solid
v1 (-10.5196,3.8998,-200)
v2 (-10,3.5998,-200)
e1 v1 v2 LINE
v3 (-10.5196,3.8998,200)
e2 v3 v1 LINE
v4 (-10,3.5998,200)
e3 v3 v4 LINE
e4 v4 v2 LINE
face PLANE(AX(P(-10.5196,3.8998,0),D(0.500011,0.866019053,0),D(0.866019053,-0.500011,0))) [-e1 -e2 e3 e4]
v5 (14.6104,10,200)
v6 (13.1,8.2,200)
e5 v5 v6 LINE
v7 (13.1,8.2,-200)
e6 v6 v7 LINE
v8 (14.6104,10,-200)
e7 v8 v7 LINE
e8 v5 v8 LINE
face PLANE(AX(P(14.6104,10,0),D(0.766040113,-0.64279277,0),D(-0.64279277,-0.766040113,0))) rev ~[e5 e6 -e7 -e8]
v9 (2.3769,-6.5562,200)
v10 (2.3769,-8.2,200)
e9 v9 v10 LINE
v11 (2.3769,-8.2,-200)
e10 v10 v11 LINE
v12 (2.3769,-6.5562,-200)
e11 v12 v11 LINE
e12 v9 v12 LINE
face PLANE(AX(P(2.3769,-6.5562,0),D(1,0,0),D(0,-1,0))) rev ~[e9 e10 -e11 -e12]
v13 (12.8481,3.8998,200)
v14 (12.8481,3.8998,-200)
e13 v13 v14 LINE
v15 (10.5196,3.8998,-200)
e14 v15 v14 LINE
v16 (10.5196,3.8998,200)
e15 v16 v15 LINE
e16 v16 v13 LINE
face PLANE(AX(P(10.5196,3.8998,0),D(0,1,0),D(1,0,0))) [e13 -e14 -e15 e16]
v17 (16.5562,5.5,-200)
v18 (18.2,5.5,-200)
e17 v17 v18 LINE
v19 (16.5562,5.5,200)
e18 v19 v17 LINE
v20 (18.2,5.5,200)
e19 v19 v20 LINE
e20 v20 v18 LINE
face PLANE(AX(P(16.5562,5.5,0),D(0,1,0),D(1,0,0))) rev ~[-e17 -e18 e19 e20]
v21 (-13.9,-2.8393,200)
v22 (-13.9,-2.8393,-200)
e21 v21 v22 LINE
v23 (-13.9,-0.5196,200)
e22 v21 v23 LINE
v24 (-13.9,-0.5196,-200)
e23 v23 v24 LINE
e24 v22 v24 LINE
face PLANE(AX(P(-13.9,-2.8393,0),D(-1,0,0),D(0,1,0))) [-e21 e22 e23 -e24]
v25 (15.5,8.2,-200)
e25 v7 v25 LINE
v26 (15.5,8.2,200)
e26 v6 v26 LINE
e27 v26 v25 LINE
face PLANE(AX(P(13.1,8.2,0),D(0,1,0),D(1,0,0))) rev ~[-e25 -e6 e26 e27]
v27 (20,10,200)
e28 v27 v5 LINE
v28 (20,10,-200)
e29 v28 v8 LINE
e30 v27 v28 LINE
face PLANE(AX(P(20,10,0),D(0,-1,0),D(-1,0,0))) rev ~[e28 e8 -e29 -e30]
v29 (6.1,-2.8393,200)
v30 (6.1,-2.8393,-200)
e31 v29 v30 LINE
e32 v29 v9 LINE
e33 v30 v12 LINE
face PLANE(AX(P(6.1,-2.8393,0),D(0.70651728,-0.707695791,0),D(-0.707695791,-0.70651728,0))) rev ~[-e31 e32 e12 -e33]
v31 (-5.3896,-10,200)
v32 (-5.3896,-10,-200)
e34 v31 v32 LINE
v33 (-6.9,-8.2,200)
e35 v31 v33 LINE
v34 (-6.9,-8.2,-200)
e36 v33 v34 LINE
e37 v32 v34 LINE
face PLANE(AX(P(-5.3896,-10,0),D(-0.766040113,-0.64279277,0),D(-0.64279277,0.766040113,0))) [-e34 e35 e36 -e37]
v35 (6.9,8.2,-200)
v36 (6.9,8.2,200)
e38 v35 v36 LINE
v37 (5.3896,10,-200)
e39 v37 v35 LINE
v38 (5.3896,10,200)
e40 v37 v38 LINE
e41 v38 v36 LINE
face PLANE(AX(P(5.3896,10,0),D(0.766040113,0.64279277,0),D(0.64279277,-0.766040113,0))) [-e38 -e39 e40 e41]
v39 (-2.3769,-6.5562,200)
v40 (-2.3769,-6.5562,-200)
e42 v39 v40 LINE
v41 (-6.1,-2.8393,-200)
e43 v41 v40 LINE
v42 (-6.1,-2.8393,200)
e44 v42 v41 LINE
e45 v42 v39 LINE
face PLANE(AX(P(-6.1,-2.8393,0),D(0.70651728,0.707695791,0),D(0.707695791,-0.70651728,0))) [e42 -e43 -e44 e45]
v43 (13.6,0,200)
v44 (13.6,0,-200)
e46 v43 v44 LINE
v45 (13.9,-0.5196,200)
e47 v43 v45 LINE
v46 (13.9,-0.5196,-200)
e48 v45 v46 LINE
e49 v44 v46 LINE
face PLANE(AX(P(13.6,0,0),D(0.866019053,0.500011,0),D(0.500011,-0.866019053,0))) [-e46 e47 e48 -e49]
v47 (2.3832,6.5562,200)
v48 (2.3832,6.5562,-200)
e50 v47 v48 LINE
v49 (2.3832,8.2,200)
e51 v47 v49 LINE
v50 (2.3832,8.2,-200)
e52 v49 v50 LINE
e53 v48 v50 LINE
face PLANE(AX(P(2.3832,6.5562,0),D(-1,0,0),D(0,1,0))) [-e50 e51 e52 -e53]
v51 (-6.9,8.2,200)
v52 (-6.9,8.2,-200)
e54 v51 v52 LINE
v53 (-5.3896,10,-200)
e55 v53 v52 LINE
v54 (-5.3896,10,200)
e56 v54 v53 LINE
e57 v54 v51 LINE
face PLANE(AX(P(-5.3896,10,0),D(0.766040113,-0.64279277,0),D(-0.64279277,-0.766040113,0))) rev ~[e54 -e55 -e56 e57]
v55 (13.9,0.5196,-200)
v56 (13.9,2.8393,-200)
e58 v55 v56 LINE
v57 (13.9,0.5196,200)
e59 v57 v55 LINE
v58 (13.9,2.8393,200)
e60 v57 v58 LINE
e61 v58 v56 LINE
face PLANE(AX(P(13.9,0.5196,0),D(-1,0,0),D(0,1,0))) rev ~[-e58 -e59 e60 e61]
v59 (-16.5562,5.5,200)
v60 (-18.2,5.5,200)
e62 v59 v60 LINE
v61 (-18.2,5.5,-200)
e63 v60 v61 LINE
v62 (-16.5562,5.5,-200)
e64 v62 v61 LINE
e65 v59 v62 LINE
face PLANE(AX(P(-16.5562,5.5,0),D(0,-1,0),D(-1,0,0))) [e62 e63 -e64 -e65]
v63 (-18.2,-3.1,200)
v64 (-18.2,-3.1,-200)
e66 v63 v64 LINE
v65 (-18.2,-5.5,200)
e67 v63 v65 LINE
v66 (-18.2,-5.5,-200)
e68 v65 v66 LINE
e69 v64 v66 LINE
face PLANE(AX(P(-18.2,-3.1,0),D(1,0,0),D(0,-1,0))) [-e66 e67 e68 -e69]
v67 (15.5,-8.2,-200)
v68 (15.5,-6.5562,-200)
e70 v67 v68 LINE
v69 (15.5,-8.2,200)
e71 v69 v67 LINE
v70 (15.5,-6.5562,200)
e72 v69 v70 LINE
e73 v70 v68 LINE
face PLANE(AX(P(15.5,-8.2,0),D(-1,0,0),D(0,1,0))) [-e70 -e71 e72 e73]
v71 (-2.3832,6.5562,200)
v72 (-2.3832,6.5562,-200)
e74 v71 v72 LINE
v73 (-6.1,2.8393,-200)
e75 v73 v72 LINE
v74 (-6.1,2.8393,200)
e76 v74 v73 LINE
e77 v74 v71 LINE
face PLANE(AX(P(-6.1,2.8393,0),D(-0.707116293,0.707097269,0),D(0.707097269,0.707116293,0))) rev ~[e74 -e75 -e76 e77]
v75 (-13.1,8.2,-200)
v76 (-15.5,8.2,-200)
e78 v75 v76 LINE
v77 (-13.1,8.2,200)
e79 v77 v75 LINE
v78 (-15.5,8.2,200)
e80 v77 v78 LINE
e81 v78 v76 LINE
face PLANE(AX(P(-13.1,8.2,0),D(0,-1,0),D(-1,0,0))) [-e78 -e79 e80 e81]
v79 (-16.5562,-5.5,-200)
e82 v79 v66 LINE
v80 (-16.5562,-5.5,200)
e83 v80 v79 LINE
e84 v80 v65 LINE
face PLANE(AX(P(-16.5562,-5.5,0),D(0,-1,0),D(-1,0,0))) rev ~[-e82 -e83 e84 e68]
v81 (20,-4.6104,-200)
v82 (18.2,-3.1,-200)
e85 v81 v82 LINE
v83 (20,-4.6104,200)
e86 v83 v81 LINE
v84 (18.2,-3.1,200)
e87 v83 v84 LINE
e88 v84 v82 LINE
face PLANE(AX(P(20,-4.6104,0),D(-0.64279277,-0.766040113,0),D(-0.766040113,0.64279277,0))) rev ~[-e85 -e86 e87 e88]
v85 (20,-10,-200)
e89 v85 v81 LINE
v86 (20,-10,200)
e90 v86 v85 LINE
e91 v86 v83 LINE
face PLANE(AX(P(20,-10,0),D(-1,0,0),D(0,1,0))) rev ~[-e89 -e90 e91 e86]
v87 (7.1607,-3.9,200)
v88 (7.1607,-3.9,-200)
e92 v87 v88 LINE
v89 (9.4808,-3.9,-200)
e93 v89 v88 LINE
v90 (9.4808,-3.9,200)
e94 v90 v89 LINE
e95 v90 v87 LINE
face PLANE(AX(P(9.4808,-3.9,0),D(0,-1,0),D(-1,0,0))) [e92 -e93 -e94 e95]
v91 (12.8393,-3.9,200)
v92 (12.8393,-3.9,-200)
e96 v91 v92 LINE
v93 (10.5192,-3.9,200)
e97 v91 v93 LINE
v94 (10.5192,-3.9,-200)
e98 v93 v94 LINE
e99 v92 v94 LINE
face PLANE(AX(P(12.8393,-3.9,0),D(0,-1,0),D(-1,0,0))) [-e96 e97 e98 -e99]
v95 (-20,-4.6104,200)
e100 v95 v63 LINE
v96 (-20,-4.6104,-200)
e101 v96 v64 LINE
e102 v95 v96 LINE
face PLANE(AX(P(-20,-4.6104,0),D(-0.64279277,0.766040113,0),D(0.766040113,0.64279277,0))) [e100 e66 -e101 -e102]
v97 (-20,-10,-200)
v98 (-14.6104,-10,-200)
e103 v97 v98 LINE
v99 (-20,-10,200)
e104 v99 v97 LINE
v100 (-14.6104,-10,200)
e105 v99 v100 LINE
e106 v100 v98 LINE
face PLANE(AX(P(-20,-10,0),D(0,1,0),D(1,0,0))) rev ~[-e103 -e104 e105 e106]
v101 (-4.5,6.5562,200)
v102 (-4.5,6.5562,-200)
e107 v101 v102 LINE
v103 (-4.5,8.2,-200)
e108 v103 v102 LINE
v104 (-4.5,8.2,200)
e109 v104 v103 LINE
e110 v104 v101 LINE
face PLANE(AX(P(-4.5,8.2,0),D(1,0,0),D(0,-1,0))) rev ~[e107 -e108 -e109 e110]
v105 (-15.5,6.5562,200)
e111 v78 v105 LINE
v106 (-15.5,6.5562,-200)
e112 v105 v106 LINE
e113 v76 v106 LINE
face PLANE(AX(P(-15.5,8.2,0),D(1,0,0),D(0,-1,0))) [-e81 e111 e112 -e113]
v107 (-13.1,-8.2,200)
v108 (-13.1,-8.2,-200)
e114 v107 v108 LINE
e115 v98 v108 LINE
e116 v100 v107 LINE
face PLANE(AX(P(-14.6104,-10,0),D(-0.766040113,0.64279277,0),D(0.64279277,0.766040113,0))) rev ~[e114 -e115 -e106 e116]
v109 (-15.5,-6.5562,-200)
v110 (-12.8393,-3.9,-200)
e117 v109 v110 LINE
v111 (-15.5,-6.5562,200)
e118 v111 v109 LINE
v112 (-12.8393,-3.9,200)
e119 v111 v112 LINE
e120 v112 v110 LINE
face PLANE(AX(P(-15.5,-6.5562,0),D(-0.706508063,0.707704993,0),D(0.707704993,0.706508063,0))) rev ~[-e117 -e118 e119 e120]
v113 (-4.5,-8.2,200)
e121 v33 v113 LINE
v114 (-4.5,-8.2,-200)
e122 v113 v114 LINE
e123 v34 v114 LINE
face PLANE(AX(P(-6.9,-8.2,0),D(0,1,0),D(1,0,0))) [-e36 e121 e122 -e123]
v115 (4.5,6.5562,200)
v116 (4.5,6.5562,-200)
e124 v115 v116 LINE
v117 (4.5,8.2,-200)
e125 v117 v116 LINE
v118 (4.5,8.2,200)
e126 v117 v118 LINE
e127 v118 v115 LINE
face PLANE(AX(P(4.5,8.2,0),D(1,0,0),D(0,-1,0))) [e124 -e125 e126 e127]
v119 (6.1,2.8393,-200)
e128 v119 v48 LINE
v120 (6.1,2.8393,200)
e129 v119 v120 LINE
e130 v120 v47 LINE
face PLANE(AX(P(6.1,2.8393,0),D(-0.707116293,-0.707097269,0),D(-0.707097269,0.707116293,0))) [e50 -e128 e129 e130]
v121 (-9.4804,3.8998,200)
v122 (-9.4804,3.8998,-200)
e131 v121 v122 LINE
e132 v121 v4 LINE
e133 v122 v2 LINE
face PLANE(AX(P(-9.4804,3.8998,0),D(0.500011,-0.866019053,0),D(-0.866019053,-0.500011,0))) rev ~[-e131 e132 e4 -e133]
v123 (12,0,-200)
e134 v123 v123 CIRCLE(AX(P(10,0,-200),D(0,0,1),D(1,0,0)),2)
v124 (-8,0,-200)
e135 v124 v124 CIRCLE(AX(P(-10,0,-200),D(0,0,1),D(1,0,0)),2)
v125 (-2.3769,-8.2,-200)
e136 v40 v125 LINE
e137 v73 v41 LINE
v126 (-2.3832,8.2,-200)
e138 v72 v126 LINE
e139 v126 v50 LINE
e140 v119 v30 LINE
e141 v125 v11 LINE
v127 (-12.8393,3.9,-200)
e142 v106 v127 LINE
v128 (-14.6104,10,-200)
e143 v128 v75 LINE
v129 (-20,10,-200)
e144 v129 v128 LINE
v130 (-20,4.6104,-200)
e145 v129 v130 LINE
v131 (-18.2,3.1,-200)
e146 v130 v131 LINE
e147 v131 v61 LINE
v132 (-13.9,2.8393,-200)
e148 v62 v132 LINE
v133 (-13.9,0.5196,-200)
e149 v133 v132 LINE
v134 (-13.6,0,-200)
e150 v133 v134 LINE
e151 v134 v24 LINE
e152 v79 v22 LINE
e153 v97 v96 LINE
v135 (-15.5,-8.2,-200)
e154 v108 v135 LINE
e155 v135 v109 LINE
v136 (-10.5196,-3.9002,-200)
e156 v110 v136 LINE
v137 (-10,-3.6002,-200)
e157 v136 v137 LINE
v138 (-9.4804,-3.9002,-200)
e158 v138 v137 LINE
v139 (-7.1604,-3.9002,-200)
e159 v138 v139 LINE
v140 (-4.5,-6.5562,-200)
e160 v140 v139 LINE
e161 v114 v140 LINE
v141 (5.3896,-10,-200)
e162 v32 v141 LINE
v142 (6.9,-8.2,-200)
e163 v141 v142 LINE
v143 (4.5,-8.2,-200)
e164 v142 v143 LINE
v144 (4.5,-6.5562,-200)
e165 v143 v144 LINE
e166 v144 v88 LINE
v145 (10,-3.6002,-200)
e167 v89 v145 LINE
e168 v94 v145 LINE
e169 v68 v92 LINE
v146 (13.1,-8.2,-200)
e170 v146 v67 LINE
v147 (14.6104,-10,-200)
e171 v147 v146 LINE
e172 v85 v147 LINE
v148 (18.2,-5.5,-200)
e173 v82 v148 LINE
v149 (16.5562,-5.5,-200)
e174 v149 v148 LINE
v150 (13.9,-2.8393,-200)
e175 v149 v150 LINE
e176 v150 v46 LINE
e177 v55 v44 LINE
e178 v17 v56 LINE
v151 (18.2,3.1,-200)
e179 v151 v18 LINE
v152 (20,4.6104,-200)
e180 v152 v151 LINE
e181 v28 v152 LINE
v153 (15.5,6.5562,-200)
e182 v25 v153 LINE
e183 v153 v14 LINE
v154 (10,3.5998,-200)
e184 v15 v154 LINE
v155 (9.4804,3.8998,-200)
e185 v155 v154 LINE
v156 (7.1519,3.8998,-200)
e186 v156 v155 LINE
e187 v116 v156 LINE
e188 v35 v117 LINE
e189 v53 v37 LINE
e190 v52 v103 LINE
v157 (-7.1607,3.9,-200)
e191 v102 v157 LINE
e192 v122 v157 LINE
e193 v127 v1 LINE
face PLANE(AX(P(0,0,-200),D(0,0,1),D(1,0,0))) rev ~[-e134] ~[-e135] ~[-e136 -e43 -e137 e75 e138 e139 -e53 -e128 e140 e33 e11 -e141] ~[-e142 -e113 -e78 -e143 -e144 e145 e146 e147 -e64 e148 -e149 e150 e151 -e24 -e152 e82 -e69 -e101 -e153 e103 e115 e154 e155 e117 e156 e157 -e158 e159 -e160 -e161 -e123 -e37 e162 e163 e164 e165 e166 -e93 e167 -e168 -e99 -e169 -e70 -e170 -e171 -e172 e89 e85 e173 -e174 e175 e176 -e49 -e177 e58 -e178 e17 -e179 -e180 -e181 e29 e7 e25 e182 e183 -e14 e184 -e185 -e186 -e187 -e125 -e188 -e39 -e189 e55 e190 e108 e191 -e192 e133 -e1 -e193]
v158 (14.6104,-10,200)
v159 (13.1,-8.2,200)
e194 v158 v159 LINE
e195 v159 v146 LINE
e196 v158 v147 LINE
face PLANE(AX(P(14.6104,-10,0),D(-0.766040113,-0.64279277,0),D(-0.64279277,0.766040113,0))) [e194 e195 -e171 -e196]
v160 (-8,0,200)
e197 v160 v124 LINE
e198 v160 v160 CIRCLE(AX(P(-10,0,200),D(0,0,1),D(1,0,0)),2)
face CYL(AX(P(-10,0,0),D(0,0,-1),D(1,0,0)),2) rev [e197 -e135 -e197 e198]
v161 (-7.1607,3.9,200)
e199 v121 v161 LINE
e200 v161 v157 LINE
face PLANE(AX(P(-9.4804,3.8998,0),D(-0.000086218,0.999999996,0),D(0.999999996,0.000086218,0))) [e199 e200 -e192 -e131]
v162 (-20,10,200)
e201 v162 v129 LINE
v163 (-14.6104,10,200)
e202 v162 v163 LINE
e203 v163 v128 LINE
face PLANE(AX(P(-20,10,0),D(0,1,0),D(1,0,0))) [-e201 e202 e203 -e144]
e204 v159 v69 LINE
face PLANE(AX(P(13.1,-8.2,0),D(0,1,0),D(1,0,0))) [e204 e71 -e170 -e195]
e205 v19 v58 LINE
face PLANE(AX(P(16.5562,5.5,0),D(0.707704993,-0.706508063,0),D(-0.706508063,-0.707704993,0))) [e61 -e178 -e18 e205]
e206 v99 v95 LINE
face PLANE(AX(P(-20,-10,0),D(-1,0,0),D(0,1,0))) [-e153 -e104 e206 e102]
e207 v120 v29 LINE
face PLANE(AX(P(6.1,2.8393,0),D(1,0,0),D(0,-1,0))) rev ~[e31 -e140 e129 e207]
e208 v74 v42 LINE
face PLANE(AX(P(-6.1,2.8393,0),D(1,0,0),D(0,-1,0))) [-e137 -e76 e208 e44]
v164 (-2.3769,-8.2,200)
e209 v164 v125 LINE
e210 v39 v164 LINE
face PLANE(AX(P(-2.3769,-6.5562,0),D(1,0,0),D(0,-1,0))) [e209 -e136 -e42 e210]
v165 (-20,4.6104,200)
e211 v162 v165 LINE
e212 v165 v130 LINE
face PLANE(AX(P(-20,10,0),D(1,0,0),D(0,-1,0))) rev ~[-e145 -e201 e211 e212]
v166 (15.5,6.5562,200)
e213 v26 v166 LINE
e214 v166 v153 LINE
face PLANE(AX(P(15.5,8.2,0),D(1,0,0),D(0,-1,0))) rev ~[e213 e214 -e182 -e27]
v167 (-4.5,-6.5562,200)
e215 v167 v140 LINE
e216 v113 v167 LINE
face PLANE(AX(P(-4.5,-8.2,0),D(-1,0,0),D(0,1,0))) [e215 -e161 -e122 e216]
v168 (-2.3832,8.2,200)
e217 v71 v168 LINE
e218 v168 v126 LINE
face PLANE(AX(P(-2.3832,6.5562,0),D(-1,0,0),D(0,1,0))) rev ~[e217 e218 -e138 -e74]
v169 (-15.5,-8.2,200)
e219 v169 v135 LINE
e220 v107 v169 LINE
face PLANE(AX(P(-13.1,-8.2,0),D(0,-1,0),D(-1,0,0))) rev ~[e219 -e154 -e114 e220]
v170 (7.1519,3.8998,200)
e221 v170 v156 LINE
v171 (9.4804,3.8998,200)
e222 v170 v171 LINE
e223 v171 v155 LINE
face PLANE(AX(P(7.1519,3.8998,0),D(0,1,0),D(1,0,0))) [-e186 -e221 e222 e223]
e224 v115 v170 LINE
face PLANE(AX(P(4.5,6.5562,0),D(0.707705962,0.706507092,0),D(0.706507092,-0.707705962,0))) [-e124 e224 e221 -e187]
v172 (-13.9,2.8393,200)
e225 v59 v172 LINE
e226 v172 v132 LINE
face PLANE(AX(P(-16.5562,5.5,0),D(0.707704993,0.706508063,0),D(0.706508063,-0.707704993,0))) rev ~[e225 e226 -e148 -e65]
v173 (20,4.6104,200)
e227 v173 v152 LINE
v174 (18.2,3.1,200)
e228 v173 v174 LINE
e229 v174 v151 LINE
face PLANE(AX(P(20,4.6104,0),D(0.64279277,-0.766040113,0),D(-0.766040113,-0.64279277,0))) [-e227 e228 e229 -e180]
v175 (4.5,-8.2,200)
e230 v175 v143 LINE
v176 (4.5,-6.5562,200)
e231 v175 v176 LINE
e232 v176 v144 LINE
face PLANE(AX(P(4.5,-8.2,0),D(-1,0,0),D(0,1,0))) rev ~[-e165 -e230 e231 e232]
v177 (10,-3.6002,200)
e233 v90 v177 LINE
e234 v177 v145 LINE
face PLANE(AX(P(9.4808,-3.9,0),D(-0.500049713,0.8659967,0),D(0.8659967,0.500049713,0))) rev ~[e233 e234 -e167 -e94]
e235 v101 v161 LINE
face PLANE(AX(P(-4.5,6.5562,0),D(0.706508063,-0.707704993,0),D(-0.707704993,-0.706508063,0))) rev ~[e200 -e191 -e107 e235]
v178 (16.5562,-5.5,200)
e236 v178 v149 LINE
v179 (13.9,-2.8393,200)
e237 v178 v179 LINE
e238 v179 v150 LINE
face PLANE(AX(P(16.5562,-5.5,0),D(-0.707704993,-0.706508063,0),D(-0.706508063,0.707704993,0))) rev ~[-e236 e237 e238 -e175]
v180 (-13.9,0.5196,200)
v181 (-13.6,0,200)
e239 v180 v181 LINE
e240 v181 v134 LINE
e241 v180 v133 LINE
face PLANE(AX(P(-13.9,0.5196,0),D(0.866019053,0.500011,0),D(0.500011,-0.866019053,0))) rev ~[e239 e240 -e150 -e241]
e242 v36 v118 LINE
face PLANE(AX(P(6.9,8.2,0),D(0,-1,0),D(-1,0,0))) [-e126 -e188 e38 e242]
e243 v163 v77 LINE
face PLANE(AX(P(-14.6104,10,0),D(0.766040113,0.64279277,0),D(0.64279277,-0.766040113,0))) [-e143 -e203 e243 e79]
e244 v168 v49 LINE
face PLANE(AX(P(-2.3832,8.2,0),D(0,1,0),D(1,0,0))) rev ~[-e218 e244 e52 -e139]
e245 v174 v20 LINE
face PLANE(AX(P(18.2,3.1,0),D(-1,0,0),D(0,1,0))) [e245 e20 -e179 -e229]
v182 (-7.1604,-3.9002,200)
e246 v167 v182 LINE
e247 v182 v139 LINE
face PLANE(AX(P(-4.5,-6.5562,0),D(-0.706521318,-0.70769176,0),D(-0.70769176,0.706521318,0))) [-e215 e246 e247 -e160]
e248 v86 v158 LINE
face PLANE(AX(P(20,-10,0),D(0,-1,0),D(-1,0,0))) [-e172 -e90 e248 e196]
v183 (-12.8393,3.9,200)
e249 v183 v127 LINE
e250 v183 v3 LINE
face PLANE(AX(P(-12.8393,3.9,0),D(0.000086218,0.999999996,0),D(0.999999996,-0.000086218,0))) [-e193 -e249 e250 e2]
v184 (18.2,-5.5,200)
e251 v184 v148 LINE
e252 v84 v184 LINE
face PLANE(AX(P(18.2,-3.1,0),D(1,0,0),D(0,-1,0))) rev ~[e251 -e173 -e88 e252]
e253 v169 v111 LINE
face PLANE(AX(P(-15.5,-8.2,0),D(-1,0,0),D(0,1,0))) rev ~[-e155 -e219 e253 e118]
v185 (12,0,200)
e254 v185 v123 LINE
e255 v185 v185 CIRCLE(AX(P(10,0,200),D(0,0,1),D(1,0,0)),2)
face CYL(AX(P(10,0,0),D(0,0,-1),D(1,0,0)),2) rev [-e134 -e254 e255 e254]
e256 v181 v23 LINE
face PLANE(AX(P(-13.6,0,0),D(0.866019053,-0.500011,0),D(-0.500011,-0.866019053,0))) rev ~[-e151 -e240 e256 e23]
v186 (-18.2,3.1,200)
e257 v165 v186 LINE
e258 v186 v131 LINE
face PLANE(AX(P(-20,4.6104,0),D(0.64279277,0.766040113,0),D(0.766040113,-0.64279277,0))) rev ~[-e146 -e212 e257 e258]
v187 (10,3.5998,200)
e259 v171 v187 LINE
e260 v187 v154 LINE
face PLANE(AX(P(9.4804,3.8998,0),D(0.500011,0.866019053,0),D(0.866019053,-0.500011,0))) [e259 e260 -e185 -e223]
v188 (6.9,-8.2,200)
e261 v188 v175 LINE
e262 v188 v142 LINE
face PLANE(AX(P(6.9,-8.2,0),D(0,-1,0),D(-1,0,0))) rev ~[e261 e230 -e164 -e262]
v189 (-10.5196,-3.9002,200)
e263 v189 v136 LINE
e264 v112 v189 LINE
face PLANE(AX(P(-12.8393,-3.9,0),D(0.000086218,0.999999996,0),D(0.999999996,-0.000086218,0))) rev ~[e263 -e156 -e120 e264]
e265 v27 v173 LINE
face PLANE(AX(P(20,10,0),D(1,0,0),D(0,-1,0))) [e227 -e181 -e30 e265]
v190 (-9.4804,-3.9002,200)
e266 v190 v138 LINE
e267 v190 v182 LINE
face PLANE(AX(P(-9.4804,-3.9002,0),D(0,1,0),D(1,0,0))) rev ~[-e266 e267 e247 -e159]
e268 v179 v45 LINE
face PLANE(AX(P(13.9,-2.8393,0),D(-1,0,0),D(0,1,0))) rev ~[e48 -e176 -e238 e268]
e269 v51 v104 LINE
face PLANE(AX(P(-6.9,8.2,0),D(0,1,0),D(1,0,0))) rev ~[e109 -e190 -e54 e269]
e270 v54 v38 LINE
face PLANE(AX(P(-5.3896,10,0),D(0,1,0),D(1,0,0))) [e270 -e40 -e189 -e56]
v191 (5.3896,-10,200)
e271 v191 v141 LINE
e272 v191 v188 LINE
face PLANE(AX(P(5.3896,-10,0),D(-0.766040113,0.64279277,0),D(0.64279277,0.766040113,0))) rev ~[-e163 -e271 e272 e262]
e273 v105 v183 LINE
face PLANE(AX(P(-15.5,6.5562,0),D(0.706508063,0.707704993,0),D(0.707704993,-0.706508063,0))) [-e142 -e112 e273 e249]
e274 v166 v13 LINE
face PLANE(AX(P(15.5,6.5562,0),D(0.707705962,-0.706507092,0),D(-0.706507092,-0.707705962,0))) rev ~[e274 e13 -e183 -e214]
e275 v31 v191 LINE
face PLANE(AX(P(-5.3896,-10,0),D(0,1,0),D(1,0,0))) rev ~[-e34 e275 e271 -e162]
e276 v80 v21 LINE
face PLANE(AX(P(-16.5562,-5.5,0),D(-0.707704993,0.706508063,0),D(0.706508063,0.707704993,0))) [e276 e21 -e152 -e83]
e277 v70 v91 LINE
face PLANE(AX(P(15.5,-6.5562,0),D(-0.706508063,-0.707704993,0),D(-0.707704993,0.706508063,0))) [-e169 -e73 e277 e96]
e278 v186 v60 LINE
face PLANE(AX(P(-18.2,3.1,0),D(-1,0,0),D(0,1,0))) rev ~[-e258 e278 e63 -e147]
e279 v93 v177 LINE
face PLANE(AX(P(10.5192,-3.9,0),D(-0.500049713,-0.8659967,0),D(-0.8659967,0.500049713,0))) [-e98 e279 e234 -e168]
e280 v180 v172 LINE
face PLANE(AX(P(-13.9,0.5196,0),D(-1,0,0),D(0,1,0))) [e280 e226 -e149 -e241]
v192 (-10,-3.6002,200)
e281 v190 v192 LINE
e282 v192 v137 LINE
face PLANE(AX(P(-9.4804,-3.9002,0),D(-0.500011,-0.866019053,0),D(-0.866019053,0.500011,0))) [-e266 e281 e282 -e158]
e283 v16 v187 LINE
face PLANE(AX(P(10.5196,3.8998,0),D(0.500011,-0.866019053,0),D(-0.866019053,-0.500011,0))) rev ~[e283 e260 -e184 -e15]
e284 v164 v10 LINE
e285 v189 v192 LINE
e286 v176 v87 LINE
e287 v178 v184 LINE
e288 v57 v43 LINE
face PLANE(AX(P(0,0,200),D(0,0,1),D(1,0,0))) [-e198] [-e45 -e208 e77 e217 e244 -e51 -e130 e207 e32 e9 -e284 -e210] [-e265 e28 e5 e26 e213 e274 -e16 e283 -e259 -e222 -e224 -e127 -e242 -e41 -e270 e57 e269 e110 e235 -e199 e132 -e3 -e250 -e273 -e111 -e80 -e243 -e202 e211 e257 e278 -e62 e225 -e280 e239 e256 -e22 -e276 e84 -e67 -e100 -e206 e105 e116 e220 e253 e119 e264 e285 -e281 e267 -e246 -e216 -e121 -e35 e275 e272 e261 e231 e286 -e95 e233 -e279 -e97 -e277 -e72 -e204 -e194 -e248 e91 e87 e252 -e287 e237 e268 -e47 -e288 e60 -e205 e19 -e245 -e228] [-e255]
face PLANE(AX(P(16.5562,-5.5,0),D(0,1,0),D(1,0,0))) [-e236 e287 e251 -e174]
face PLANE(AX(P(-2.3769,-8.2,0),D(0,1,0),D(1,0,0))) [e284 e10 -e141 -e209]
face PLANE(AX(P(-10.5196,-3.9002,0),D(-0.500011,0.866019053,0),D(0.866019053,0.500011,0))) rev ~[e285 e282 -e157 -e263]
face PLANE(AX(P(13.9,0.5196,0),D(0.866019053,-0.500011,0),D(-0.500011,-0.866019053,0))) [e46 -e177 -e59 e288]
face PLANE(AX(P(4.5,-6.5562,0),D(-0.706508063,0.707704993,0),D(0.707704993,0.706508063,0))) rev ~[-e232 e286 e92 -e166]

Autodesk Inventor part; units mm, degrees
ref_plane "YZ Plane" through (0, 0, 0) normal (1, 0, 0) x (0, 1, 0)
ref_plane "XZ Plane" through (0, 0, 0) normal (0, 1, 0) x (-1, 0, 0)
ref_plane "XY Plane" through (0, 0, 0) normal (0, 0, 1) x (1, 0, 0)
sketch "Sketch1" plane through (0, 0, 0) normal (0, 0, 1) x (1, 0, 0)
  line L0 (4.5, 8.2) -> (4.5, 6.5562)
  line L1 (6.9, 8.2) -> (4.5, 8.2)
  line L2 (5.3896, 10) -> (6.9, 8.2)
  line L3 (-5.3896, 10) -> (5.3896, 10)
  line L4 (-5.3896, 10) -> (-6.9, 8.2)
  line L5 (-6.9, 8.2) -> (-4.5, 8.2)
  line L6 (-4.5, 8.2) -> (-4.5, 6.5562)
  line L7 (-4.5, 6.5562) -> (-7.1607, 3.9)
  line L8 (-9.4804, 3.8998) -> (-7.1607, 3.9)
  line L9 (-9.4804, 3.8998) -> (-10, 3.5998)
  line L10 (-10.5196, 3.8998) -> (-10, 3.5998)
  line L11 (-12.8393, 3.9) -> (-10.5196, 3.8998)
  line L12 (-15.5, 6.5562) -> (-12.8393, 3.9)
  line L13 (-15.5, 8.2) -> (-15.5, 6.5562)
  line L14 (-13.1, 8.2) -> (-15.5, 8.2)
  line L15 (-14.6104, 10) -> (-13.1, 8.2)
  line L16 (-20, 10) -> (-14.6104, 10)
  line L17 (-20, 10) -> (-20, 4.6104)
  line L18 (-20, 4.6104) -> (-18.2, 3.1)
  line L19 (-18.2, 3.1) -> (-18.2, 5.5)
  line L20 (-16.5562, 5.5) -> (-18.2, 5.5)
  line L21 (-16.5562, 5.5) -> (-13.9, 2.8393)
  line L22 (-13.9, 0.5196) -> (-13.9, 2.8393)
  line L23 (-13.9, 0.5196) -> (-13.6, 0)
  line L24 (-13.6, 0) -> (-13.9, -0.5196)
  line L25 (-13.9, -2.8393) -> (-13.9, -0.5196)
  line L26 (-16.5562, -5.5) -> (-13.9, -2.8393)
  line L27 (-16.5562, -5.5) -> (-18.2, -5.5)
  line L28 (-18.2, -3.1) -> (-18.2, -5.5)
  line L29 (-20, -4.6104) -> (-18.2, -3.1)
  line L30 (-20, -10) -> (-20, -4.6104)
  line L31 (-20, -10) -> (-14.6104, -10)
  line L32 (-14.6104, -10) -> (-13.1, -8.2)
  line L33 (-13.1, -8.2) -> (-15.5, -8.2)
  line L34 (-15.5, -8.2) -> (-15.5, -6.5562)
  line L35 (-15.5, -6.5562) -> (-12.8393, -3.9)
  line L36 (-12.8393, -3.9) -> (-10.5196, -3.9002)
  line L37 (-10.5196, -3.9002) -> (-10, -3.6002)
  line L38 (-9.4804, -3.9002) -> (-10, -3.6002)
  line L39 (-9.4804, -3.9002) -> (-7.1604, -3.9002)
  line L40 (-4.5, -6.5562) -> (-7.1604, -3.9002)
  line L41 (-4.5, -8.2) -> (-4.5, -6.5562)
  line L42 (-6.9, -8.2) -> (-4.5, -8.2)
  line L43 (-5.3896, -10) -> (-6.9, -8.2)
  line L44 (-5.3896, -10) -> (5.3896, -10)
  line L45 (5.3896, -10) -> (6.9, -8.2)
  line L46 (6.9, -8.2) -> (4.5, -8.2)
  line L47 (4.5, -8.2) -> (4.5, -6.5562)
  line L48 (4.5, -6.5562) -> (7.1607, -3.9)
  line L49 (9.4808, -3.9) -> (7.1607, -3.9)
  line L50 (9.4808, -3.9) -> (10, -3.6002)
  line L51 (10.5192, -3.9) -> (10, -3.6002)
  line L52 (12.8393, -3.9) -> (10.5192, -3.9)
  line L53 (15.5, -6.5562) -> (12.8393, -3.9)
  line L54 (15.5, -8.2) -> (15.5, -6.5562)
  line L55 (13.1, -8.2) -> (15.5, -8.2)
  line L56 (14.6104, -10) -> (13.1, -8.2)
  line L57 (20, -10) -> (14.6104, -10)
  line L58 (20, -10) -> (20, -4.6104)
  line L59 (20, -4.6104) -> (18.2, -3.1)
  line L60 (18.2, -3.1) -> (18.2, -5.5)
  line L61 (16.5562, -5.5) -> (18.2, -5.5)
  line L62 (16.5562, -5.5) -> (13.9, -2.8393)
  line L63 (13.9, -2.8393) -> (13.9, -0.5196)
  line L64 (13.6, 0) -> (13.9, -0.5196)
  line L65 (13.9, 0.5196) -> (13.6, 0)
  line L66 (13.9, 0.5196) -> (13.9, 2.8393)
  line L67 (16.5562, 5.5) -> (13.9, 2.8393)
  line L68 (16.5562, 5.5) -> (18.2, 5.5)
  line L69 (18.2, 3.1) -> (18.2, 5.5)
  line L70 (20, 4.6104) -> (18.2, 3.1)
  line L71 (20, 10) -> (20, 4.6104)
  line L72 (20, 10) -> (14.6104, 10)
  line L73 (14.6104, 10) -> (13.1, 8.2)
  line L74 (13.1, 8.2) -> (15.5, 8.2)
  line L75 (15.5, 8.2) -> (15.5, 6.5562)
  line L76 (15.5, 6.5562) -> (12.8481, 3.8998)
  line L77 (10.5196, 3.8998) -> (12.8481, 3.8998)
  line L78 (10.5196, 3.8998) -> (10, 3.5998)
  line L79 (9.4804, 3.8998) -> (10, 3.5998)
  line L80 (7.1519, 3.8998) -> (9.4804, 3.8998)
  line L81 (4.5, 6.5562) -> (7.1519, 3.8998)
  circle A0 centre (-10, 0) radius 2
  circle A1 centre (10, 0) radius 2
  line L82 (6.1, 2.8393) -> (2.3832, 6.5562)
  line L83 (6.1, 2.8393) -> (6.1, -2.8393)
  line L84 (6.1, -2.8393) -> (2.3769, -6.5562)
  line L85 (2.3769, -6.5562) -> (2.3769, -8.2)
  line L86 (-2.3769, -8.2) -> (2.3769, -8.2)
  line L87 (-2.3769, -6.5562) -> (-2.3769, -8.2)
  line L88 (-6.1, -2.8393) -> (-2.3769, -6.5562)
  line L89 (-6.1, 2.8393) -> (-6.1, -2.8393)
  line L90 (-6.1, 2.8393) -> (-2.3832, 6.5562)
  line L91 (-2.3832, 6.5562) -> (-2.3832, 8.2)
  line L92 (-2.3832, 8.2) -> (2.3832, 8.2)
  line L93 (2.3832, 6.5562) -> (2.3832, 8.2)
  point P0 (0, 0)
  point P1 (0, 0)
extrude "Extrusion1" add sketch "Sketch1" along normal mid plane 400
properties part number "vslot_2040_400mm"
